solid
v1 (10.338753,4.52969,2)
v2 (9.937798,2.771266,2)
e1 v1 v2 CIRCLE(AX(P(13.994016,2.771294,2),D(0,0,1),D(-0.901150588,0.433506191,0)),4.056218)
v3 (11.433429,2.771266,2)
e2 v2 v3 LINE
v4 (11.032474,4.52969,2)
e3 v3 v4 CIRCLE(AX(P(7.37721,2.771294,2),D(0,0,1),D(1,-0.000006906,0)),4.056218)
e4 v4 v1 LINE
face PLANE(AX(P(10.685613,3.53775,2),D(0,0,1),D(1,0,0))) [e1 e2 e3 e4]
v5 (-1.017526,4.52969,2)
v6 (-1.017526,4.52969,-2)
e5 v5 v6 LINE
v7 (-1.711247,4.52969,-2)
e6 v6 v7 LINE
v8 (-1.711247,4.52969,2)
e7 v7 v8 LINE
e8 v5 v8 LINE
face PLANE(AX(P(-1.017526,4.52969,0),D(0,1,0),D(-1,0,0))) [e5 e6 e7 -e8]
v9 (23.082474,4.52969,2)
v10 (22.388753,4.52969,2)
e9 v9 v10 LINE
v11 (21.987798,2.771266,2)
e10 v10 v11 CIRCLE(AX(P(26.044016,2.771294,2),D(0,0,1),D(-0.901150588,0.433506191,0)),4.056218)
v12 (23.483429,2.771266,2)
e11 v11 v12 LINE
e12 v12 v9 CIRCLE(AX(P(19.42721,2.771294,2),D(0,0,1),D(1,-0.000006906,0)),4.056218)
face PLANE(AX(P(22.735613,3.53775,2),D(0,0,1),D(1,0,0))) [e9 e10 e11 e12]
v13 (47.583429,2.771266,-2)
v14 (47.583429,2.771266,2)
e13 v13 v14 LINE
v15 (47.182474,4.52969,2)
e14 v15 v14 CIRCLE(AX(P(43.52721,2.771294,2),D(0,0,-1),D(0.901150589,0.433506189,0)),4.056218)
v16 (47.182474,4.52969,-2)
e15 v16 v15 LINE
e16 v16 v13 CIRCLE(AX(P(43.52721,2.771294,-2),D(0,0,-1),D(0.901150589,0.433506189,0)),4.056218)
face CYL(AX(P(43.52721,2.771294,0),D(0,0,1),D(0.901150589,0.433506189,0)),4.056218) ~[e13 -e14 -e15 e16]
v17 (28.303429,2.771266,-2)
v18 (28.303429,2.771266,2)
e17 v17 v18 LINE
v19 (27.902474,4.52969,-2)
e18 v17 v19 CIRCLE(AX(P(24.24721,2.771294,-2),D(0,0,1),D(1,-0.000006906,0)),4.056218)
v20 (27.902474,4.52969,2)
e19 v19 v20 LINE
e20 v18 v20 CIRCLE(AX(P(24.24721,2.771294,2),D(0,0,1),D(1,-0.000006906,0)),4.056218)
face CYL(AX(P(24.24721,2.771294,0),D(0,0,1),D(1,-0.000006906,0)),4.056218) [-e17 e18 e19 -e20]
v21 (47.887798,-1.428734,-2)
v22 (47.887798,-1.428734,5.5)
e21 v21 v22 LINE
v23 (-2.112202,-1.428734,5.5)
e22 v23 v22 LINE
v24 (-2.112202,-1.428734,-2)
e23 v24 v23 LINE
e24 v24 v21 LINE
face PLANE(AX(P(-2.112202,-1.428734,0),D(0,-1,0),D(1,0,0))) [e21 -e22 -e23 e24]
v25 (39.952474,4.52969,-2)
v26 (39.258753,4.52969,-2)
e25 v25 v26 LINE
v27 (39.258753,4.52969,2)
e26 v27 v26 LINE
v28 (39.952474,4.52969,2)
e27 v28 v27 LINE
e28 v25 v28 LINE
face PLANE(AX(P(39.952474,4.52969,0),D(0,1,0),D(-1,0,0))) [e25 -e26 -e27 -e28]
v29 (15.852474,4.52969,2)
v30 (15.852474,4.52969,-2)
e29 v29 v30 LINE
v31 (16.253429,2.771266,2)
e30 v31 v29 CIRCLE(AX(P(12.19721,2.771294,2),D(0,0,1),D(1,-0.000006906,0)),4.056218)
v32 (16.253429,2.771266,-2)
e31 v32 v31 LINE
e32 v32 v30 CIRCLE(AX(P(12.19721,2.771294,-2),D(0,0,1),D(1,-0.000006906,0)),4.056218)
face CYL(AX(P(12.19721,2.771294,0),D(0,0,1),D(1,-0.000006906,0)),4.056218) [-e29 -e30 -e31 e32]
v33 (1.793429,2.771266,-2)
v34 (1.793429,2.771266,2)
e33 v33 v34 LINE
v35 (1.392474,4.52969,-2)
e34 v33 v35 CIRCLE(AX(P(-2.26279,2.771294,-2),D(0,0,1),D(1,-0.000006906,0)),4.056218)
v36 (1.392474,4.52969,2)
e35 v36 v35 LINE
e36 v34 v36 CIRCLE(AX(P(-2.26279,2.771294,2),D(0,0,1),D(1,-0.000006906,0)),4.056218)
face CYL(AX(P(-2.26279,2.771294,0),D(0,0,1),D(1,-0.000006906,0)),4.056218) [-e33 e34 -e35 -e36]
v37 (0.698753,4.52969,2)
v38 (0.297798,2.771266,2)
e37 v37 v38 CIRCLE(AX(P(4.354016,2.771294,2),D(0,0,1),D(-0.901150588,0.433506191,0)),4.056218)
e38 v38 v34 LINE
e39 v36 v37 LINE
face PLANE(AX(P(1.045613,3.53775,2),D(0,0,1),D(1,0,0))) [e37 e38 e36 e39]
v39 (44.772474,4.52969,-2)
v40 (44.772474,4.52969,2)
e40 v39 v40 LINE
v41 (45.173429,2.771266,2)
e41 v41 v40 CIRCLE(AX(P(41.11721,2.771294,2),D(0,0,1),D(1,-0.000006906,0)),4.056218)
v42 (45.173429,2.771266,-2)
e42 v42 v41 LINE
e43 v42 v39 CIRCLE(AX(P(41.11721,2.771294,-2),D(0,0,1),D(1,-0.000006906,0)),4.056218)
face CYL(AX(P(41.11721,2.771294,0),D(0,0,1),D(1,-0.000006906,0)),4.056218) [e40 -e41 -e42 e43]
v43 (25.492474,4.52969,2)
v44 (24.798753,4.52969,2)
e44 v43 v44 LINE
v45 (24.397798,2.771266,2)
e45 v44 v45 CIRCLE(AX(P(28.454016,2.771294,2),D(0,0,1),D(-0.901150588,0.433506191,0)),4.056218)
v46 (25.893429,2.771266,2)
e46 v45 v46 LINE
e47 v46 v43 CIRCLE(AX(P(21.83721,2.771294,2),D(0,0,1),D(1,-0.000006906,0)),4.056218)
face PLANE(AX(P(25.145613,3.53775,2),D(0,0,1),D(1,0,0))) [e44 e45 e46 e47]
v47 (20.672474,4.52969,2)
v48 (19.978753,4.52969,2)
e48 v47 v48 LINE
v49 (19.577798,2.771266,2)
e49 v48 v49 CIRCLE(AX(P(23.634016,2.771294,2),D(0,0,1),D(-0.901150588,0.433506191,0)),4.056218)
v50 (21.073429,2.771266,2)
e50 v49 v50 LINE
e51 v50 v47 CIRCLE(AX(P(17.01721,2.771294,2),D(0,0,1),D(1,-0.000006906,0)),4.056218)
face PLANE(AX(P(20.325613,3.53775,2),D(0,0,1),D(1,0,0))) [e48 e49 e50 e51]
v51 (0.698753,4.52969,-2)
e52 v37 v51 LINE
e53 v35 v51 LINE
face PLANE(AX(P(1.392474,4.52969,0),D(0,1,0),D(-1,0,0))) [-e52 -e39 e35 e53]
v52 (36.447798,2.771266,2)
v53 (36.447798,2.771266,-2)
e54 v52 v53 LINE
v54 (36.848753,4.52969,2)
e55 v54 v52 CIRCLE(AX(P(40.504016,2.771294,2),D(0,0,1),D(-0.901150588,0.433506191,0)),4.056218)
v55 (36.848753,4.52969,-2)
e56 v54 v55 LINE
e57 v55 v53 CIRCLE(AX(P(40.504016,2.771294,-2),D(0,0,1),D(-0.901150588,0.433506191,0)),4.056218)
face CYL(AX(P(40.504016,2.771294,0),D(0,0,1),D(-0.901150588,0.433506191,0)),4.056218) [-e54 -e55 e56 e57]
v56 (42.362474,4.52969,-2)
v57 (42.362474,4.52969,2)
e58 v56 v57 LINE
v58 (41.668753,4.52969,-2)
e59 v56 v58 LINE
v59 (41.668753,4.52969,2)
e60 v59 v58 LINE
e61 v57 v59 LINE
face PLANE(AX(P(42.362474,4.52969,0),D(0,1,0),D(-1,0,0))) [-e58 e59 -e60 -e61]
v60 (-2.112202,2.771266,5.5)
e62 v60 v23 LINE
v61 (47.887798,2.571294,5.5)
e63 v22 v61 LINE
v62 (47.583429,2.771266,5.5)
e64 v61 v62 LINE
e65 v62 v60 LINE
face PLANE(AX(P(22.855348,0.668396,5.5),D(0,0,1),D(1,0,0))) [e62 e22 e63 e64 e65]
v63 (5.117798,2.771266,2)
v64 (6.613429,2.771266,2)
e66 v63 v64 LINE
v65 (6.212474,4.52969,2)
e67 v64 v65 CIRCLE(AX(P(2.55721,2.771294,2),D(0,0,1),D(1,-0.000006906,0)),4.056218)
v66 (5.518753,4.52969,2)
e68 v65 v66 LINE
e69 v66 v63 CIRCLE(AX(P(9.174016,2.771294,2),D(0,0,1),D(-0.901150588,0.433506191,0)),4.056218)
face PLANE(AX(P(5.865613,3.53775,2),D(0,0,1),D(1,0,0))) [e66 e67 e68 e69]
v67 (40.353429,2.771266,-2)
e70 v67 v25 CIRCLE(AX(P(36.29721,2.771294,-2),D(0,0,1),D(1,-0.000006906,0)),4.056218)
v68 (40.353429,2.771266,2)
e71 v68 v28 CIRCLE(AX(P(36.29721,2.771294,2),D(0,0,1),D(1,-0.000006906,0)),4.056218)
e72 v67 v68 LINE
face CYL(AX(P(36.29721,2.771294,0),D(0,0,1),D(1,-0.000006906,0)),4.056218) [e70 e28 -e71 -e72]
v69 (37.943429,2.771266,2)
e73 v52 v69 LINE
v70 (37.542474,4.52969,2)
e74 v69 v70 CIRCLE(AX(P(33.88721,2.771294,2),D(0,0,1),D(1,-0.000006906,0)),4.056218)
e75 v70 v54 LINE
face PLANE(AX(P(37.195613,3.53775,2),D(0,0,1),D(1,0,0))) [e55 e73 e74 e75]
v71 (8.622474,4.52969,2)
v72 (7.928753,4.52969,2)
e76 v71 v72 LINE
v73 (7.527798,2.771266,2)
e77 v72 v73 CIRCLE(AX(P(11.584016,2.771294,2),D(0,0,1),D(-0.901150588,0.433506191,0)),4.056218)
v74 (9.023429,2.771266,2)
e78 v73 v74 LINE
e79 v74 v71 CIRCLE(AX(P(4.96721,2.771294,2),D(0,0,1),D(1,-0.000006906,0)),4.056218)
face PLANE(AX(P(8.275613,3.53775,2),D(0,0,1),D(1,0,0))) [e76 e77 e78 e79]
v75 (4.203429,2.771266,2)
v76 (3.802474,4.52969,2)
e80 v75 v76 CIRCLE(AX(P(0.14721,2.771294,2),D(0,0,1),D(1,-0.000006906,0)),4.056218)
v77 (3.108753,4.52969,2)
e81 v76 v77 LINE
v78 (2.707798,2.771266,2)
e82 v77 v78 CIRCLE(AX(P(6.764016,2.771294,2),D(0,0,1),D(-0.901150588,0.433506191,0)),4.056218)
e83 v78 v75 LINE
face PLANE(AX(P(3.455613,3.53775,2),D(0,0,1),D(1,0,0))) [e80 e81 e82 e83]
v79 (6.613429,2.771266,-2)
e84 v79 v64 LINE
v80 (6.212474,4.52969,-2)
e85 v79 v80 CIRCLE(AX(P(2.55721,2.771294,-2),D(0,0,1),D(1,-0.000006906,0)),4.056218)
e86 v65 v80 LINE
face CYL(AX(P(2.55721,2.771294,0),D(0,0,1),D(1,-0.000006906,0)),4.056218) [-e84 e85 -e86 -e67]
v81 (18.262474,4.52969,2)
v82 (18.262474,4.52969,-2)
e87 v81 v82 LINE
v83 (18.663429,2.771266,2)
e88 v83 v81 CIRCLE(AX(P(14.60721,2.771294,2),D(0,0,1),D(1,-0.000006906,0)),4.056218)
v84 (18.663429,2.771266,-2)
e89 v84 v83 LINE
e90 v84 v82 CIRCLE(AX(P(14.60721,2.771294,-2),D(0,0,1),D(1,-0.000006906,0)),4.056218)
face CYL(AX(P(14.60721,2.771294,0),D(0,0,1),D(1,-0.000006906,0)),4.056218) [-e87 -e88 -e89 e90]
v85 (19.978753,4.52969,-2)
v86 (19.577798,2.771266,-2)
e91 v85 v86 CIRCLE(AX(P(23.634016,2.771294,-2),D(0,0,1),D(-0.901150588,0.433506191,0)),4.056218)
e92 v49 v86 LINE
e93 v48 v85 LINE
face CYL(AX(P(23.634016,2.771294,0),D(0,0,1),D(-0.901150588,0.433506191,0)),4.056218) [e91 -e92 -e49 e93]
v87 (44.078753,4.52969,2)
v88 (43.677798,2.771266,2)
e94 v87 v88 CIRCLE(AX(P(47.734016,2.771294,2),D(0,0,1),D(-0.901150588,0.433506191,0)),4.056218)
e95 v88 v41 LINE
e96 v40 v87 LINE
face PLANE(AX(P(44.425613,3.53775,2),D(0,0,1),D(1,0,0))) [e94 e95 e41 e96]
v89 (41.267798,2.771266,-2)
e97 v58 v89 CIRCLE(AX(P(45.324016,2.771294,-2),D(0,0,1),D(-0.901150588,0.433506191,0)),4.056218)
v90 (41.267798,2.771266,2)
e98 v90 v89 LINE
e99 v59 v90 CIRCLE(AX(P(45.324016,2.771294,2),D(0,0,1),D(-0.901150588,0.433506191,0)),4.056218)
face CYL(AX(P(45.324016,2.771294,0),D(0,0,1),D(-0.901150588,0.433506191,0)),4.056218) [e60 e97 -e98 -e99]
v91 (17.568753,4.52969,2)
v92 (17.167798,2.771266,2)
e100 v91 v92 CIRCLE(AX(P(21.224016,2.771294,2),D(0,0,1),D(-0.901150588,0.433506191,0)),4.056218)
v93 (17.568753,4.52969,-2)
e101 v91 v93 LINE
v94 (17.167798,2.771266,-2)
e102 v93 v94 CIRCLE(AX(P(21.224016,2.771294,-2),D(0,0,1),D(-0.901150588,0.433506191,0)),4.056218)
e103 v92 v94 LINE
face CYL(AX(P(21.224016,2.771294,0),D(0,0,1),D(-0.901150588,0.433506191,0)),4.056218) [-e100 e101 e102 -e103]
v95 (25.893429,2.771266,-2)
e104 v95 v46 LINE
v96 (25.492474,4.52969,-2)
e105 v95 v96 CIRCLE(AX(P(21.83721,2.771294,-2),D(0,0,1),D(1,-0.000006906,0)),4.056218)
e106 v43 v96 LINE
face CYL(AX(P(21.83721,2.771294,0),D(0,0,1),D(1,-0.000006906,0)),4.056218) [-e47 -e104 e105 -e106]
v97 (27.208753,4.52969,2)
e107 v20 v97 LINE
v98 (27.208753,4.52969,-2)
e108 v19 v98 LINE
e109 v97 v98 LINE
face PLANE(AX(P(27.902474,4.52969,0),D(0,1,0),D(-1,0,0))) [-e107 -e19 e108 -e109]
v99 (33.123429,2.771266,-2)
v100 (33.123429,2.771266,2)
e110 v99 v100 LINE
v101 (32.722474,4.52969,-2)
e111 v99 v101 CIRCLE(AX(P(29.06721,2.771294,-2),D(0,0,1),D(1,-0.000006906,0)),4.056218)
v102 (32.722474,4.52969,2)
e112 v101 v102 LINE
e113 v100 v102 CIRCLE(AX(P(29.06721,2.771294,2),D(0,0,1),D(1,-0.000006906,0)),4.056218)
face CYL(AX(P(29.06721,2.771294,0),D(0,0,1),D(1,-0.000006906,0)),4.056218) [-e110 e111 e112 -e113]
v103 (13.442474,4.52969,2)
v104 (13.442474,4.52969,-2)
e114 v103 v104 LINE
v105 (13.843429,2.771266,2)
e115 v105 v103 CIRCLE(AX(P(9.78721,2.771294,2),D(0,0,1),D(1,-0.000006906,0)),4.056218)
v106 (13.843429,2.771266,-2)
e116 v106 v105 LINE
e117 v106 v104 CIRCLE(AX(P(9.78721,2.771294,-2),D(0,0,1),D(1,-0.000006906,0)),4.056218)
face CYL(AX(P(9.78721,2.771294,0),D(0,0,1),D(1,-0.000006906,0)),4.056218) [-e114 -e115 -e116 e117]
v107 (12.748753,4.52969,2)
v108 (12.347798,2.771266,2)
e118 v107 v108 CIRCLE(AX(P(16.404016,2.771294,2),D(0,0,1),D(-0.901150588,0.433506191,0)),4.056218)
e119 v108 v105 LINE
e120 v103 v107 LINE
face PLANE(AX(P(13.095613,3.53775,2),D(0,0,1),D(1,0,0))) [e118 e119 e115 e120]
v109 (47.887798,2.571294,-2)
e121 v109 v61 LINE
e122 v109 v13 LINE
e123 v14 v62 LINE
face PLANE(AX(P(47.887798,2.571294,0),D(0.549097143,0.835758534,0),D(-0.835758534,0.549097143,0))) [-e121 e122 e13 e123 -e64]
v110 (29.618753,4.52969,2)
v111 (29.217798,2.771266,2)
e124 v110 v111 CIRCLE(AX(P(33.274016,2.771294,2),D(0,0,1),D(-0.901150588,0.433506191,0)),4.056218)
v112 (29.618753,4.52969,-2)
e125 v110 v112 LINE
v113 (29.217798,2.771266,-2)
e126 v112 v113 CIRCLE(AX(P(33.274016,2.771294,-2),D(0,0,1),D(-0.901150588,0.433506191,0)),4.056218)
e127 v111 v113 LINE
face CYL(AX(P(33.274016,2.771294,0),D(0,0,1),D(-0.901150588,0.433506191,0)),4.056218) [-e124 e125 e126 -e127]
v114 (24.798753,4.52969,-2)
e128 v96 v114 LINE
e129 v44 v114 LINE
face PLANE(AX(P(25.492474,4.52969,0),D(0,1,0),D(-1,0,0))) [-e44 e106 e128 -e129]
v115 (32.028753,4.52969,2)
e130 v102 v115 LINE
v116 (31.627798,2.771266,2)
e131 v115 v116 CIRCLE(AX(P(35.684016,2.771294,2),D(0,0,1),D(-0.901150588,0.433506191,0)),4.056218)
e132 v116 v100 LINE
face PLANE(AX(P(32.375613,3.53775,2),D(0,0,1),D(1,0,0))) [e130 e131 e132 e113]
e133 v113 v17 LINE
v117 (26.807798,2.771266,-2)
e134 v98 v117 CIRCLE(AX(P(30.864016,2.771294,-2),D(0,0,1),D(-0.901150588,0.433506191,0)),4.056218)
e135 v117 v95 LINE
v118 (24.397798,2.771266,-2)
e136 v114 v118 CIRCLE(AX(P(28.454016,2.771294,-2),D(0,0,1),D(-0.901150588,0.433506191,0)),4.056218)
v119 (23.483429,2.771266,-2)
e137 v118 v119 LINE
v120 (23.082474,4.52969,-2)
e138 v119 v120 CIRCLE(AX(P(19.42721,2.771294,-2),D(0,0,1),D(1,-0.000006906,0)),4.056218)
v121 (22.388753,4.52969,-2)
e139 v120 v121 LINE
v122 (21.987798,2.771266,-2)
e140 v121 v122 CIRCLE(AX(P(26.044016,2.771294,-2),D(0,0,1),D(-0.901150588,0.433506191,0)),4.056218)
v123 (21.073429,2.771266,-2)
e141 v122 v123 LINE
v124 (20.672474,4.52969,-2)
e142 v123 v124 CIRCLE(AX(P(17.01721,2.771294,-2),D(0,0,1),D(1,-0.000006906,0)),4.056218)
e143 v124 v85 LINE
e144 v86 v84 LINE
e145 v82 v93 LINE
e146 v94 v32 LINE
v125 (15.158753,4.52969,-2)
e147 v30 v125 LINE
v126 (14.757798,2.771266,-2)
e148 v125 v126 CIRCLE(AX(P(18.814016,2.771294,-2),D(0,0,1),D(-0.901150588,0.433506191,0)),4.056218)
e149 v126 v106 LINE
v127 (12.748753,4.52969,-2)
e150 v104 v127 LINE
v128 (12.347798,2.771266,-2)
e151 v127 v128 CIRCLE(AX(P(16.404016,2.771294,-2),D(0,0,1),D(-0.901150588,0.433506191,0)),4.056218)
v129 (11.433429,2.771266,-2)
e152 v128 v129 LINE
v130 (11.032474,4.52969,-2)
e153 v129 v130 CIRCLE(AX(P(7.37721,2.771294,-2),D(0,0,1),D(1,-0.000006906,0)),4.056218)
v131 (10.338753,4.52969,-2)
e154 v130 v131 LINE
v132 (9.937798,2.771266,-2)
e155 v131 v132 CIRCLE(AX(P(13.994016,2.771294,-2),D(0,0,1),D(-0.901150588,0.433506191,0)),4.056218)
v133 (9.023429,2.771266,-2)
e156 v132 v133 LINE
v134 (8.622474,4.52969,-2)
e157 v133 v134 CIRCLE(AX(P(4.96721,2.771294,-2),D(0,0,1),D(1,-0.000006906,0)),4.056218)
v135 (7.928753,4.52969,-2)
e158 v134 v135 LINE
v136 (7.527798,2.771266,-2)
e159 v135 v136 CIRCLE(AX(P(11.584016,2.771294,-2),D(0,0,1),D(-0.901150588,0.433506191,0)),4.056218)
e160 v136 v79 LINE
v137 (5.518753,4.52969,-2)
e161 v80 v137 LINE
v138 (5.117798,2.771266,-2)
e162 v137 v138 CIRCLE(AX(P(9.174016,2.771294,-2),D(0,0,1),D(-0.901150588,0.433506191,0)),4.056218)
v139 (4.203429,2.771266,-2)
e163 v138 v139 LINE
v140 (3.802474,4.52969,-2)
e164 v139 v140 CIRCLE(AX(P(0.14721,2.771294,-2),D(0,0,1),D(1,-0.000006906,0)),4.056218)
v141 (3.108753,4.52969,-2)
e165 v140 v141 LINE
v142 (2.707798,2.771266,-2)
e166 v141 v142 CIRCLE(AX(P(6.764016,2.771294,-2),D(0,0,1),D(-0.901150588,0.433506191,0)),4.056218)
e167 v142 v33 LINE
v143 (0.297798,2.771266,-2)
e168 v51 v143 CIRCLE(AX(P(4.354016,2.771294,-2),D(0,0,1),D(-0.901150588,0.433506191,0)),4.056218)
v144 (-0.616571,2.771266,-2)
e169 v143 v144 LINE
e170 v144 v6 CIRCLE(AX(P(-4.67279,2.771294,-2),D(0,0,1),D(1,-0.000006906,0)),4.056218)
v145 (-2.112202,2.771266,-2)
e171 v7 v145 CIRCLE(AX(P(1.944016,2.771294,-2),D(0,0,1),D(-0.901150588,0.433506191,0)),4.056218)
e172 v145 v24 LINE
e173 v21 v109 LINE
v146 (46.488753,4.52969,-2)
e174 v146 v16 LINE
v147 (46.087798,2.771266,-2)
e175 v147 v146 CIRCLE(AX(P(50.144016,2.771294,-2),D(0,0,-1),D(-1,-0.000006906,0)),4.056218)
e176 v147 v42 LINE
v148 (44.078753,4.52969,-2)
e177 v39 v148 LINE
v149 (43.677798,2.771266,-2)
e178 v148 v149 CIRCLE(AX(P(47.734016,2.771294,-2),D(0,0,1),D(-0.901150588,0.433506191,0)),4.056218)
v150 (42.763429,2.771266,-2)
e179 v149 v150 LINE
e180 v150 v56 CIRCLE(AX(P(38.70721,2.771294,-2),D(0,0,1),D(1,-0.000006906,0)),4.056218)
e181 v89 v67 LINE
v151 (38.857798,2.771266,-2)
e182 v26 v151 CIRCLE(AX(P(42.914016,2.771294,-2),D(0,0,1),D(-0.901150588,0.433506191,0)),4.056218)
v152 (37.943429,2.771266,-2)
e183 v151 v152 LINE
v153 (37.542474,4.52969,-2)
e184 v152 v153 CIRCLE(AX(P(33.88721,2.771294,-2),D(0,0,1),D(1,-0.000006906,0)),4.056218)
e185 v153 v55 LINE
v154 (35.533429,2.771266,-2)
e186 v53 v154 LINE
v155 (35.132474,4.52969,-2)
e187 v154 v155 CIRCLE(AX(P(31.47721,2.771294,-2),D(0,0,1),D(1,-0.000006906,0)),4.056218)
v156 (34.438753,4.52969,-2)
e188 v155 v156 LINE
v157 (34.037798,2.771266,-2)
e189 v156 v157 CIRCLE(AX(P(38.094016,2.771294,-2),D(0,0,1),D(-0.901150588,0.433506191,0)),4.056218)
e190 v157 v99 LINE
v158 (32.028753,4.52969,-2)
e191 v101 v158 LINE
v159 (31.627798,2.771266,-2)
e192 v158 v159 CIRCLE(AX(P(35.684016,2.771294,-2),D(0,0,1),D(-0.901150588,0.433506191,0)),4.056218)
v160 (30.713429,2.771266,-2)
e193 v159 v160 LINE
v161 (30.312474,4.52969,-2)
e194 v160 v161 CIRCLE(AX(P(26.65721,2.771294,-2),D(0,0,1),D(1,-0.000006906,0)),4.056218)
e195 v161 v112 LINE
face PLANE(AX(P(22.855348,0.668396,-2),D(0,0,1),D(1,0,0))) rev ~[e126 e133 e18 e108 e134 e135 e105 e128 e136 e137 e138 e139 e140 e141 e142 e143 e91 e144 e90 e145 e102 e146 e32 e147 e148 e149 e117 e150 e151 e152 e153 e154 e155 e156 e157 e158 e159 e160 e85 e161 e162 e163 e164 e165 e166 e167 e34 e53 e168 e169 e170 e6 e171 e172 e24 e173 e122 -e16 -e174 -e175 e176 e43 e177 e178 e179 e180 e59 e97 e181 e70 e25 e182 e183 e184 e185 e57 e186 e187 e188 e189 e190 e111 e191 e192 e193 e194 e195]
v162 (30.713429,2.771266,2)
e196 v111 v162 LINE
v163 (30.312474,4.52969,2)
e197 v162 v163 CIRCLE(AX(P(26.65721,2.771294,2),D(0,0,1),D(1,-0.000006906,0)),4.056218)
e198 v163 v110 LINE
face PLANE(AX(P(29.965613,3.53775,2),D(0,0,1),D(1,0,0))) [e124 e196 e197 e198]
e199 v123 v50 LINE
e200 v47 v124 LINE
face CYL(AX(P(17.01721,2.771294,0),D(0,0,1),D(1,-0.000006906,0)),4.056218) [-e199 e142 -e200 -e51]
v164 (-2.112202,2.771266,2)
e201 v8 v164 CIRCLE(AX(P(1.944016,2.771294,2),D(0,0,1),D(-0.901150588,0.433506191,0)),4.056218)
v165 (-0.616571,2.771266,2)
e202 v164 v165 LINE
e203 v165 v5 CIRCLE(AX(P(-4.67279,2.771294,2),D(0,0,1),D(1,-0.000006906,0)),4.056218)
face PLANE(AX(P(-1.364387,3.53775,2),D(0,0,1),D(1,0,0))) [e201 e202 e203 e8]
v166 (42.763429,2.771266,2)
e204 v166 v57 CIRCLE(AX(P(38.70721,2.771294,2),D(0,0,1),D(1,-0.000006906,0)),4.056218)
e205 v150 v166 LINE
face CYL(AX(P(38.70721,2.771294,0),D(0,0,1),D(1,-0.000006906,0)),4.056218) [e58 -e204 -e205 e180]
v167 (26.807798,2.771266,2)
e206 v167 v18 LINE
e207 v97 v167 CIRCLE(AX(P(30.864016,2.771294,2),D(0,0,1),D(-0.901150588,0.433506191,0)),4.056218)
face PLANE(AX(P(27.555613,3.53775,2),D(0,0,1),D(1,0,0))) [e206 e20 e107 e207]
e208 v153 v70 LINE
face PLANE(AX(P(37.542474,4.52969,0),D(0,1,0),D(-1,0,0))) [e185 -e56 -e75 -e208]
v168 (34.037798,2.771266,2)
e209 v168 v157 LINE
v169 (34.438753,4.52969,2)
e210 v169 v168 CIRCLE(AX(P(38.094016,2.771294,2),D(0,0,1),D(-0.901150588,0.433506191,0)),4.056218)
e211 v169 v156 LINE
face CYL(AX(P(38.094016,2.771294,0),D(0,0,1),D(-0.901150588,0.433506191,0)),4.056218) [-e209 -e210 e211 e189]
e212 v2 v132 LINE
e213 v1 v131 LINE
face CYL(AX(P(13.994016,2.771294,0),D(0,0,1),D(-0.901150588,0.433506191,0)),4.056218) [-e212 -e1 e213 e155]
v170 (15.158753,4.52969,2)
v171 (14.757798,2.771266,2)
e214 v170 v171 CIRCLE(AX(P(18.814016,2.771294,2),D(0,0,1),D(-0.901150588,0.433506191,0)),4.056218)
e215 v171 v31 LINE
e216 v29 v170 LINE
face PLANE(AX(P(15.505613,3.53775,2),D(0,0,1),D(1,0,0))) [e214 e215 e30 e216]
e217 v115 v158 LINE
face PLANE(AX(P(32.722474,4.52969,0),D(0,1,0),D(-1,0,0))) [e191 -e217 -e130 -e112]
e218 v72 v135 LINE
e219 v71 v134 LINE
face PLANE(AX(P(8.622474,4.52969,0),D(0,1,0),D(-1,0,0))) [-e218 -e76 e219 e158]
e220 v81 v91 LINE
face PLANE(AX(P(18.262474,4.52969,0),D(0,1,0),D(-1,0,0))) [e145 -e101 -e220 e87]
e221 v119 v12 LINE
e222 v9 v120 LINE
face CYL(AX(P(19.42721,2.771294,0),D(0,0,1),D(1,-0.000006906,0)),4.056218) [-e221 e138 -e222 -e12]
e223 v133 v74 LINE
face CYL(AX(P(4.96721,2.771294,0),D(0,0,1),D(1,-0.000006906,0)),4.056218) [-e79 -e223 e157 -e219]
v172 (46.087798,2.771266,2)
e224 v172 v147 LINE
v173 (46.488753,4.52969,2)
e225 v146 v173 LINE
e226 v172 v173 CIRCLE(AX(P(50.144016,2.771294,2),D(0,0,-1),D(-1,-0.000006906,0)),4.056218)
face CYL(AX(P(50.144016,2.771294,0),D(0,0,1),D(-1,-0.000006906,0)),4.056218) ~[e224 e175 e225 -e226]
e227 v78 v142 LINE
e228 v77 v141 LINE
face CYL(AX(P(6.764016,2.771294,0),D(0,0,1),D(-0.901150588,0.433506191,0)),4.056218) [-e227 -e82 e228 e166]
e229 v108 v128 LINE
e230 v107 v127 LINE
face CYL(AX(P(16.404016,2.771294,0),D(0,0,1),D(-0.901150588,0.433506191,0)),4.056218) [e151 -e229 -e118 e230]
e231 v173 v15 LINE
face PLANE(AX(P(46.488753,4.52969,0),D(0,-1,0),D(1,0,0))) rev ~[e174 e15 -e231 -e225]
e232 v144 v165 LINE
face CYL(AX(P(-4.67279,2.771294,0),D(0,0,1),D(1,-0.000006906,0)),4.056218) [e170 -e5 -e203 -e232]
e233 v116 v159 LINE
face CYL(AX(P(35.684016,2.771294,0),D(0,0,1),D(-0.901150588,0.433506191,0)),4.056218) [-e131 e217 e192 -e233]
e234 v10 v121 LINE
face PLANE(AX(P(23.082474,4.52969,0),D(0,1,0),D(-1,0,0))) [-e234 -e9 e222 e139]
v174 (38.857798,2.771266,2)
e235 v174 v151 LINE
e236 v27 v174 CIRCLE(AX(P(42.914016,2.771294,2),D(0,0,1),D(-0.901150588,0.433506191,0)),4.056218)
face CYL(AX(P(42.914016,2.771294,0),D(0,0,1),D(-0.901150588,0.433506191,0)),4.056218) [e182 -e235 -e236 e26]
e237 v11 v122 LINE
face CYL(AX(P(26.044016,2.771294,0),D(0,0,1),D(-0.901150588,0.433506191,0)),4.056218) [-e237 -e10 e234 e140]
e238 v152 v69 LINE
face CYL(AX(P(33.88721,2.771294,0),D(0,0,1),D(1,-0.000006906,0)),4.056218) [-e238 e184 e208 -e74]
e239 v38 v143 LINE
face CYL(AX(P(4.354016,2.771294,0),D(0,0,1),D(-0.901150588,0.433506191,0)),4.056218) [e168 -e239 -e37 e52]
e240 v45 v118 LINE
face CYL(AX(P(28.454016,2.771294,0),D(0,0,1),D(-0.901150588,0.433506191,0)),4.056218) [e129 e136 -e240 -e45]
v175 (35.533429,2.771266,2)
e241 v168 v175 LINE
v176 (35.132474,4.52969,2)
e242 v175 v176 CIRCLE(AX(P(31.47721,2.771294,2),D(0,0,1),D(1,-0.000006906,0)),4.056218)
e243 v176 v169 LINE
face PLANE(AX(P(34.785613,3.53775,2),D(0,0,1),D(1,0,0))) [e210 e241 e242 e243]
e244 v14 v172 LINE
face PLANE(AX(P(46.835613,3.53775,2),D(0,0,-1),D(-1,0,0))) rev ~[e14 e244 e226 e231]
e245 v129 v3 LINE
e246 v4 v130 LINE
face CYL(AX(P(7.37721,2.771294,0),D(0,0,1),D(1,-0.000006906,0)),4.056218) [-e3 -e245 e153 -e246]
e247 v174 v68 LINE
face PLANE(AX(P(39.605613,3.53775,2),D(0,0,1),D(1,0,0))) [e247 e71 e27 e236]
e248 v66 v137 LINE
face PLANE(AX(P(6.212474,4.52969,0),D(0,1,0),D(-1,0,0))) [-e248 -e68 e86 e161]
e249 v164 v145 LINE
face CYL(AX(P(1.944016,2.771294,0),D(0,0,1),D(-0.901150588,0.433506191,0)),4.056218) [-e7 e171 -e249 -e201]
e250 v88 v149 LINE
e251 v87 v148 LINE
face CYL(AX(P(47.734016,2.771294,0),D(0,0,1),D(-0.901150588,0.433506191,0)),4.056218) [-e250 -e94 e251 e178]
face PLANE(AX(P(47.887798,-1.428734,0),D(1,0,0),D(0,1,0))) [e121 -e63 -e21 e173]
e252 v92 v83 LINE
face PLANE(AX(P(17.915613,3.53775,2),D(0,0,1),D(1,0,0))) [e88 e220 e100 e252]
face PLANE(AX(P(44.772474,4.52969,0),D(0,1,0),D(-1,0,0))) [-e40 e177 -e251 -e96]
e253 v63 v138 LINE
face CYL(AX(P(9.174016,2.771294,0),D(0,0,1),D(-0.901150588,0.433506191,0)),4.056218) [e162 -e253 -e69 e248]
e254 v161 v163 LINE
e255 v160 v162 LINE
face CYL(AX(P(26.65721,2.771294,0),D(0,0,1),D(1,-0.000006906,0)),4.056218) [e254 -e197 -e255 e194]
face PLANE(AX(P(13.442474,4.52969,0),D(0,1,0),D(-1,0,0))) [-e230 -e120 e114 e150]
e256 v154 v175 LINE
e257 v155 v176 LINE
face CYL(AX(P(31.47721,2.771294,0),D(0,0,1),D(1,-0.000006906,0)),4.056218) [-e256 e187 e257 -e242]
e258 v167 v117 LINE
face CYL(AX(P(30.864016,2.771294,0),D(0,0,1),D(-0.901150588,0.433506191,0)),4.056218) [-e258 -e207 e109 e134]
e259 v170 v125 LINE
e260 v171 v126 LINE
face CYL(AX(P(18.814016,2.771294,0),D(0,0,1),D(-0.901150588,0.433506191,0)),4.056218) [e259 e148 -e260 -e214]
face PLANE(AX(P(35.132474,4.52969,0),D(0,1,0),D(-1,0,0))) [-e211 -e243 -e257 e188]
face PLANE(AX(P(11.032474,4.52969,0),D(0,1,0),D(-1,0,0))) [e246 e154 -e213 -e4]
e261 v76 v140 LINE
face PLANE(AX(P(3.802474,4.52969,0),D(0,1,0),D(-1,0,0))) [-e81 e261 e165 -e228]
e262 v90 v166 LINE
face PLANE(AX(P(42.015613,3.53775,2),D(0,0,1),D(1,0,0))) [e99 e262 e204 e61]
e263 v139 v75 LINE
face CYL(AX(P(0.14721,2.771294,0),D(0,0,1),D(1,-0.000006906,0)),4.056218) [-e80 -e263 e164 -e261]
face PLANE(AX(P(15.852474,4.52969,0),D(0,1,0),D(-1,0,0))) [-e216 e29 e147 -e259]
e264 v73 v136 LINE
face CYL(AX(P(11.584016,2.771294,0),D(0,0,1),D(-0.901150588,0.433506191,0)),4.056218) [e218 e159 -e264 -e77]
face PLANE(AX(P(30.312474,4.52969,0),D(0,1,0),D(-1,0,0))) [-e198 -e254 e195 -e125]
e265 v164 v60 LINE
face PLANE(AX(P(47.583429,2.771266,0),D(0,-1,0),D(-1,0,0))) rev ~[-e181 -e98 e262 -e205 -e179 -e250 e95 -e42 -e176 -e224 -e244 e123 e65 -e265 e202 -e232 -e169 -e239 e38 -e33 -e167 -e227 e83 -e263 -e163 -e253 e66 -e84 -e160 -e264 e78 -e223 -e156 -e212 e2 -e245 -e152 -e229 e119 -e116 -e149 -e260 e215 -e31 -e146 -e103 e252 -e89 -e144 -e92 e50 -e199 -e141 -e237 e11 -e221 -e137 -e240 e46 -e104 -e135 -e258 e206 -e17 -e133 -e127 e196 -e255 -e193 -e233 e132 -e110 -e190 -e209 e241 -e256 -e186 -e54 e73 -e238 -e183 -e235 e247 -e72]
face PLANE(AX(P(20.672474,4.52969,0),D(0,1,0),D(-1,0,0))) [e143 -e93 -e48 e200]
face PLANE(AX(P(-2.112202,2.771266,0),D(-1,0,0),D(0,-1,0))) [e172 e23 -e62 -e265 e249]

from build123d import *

# Parameters (mm, degrees)
RESSALTO_EXTRUS_O1_DEPTH      = 2
RESSALTO_EXTRUS_O1_2_DEPTH    = 2
RESSALTO_EXTRUS_O1_3_DEPTH    = 2
RESSALTO_EXTRUS_O1_4_DEPTH    = 2
RESSALTO_EXTRUS_O1_5_DEPTH    = 2
RESSALTO_EXTRUS_O1_6_DEPTH    = 2
RESSALTO_EXTRUS_O1_7_DEPTH    = 2
RESSALTO_EXTRUS_O1_8_DEPTH    = 2
RESSALTO_EXTRUS_O1_9_DEPTH    = 2
RESSALTO_EXTRUS_O1_10_DEPTH   = 2
RESSALTO_EXTRUS_O1_11_DEPTH   = 2
RESSALTO_EXTRUS_O1_12_DEPTH   = 2
RESSALTO_EXTRUS_O1_13_DEPTH   = 2
RESSALTO_EXTRUS_O1_14_DEPTH   = 2
RESSALTO_EXTRUS_O1_15_DEPTH   = 2
RESSALTO_EXTRUS_O1_16_DEPTH   = 2
RESSALTO_EXTRUS_O1_17_DEPTH   = 2
RESSALTO_EXTRUS_O1_18_DEPTH   = 2
RESSALTO_EXTRUS_O1_19_DEPTH   = 2
RESSALTO_EXTRUS_O1_20_DEPTH   = 2
RESSALTO_EXTRUS_O1_21_DEPTH   = 2
RESSALTO_EXTRUS_O2_DEPTH      = 5.5
RESSALTO_EXTRUS_O2_DEPTH_BACK = 2


with BuildPart() as part:
    # Esboço1 → Ressalto-extrusão1 (new, symmetric)
    with BuildSketch(Plane.XY):
        with BuildLine():
            Line((-1.017526261, 4.529689969), (-1.711247382, 4.529689969))
            ThreePointArc((-1.711247382, 4.529689969), (-2.010696446, 3.673045524), (-2.112202188, 2.771266155))
            Line((-2.112202188, 2.771266155), (-0.616571456, 2.771266155))
            ThreePointArc((-0.616571456, 2.771266155), (-0.718077198, 3.673045524), (-1.017526261, 4.529689969))
        make_face()
    extrude(amount=RESSALTO_EXTRUS_O1_DEPTH, both=True)



with BuildPart() as body_2:
    # Esboço1 → Ressalto-extrus_o1 2 (new, symmetric)
    with BuildSketch(Plane.XY):
        with BuildLine():
            ThreePointArc((0.698752618, 4.529689969), (0.399303554, 3.673045524), (0.297797812, 2.771266155))
            Line((0.297797812, 2.771266155), (1.793428544, 2.771266155))
            ThreePointArc((1.793428544, 2.771266155), (1.691922802, 3.673045524), (1.392473739, 4.529689969))
            Line((1.392473739, 4.529689969), (0.698752618, 4.529689969))
        make_face()
    extrude(amount=RESSALTO_EXTRUS_O1_2_DEPTH, both=True)


with BuildPart() as body_3:
    # Esboço1 → Ressalto-extrus_o1 3 (new, symmetric)
    with BuildSketch(Plane.XY):
        with BuildLine():
            ThreePointArc((3.108752618, 4.529689969), (2.809303554, 3.673045524), (2.707797812, 2.771266155))
            Line((2.707797812, 2.771266155), (4.203428544, 2.771266155))
            ThreePointArc((4.203428544, 2.771266155), (4.101922802, 3.673045524), (3.802473739, 4.529689969))
            Line((3.802473739, 4.529689969), (3.108752618, 4.529689969))
        make_face()
    extrude(amount=RESSALTO_EXTRUS_O1_3_DEPTH, both=True)


with BuildPart() as body_4:
    # Esboço1 → Ressalto-extrus_o1 4 (new, symmetric)
    with BuildSketch(Plane.XY):
        with BuildLine():
            Line((46.087797812, 2.771266155), (47.583428544, 2.771266155))
            ThreePointArc((47.583428544, 2.771266155), (47.481922802, 3.673045524), (47.182473739, 4.529689969))
            Line((47.182473739, 4.529689969), (46.488752618, 4.529689969))
            ThreePointArc((46.488752618, 4.529689969), (46.189303554, 3.673045524), (46.087797812, 2.771266155))
        make_face()
    extrude(amount=RESSALTO_EXTRUS_O1_4_DEPTH, both=True)


with BuildPart() as body_5:
    # Esboço1 → Ressalto-extrus_o1 5 (new, symmetric)
    with BuildSketch(Plane.XY):
        with BuildLine():
            ThreePointArc((5.518752618, 4.529689969), (5.219303554, 3.673045524), (5.117797812, 2.771266155))
            Line((5.117797812, 2.771266155), (6.613428544, 2.771266155))
            ThreePointArc((6.613428544, 2.771266155), (6.511922802, 3.673045524), (6.212473739, 4.529689969))
            Line((6.212473739, 4.529689969), (5.518752618, 4.529689969))
        make_face()
    extrude(amount=RESSALTO_EXTRUS_O1_5_DEPTH, both=True)


with BuildPart() as body_6:
    # Esboço1 → Ressalto-extrus_o1 6 (new, symmetric)
    with BuildSketch(Plane.XY):
        with BuildLine():
            Line((43.677797812, 2.771266155), (45.173428544, 2.771266155))
            ThreePointArc((45.173428544, 2.771266155), (45.071922802, 3.673045524), (44.772473739, 4.529689969))
            Line((44.772473739, 4.529689969), (44.078752618, 4.529689969))
            ThreePointArc((44.078752618, 4.529689969), (43.779303554, 3.673045524), (43.677797812, 2.771266155))
        make_face()
    extrude(amount=RESSALTO_EXTRUS_O1_6_DEPTH, both=True)


with BuildPart() as body_7:
    # Esboço1 → Ressalto-extrus_o1 7 (new, symmetric)
    with BuildSketch(Plane.XY):
        with BuildLine():
            ThreePointArc((7.928752618, 4.529689969), (7.629303554, 3.673045524), (7.527797812, 2.771266155))
            Line((7.527797812, 2.771266155), (9.023428544, 2.771266155))
            ThreePointArc((9.023428544, 2.771266155), (8.921922802, 3.673045524), (8.622473739, 4.529689969))
            Line((8.622473739, 4.529689969), (7.928752618, 4.529689969))
        make_face()
    extrude(amount=RESSALTO_EXTRUS_O1_7_DEPTH, both=True)


with BuildPart() as body_8:
    # Esboço1 → Ressalto-extrus_o1 8 (new, symmetric)
    with BuildSketch(Plane.XY):
        with BuildLine():
            Line((41.267797812, 2.771266155), (42.763428544, 2.771266155))
            ThreePointArc((42.763428544, 2.771266155), (42.661922802, 3.673045524), (42.362473739, 4.529689969))
            Line((42.362473739, 4.529689969), (41.668752618, 4.529689969))
            ThreePointArc((41.668752618, 4.529689969), (41.369303554, 3.673045524), (41.267797812, 2.771266155))
        make_face()
    extrude(amount=RESSALTO_EXTRUS_O1_8_DEPTH, both=True)


with BuildPart() as body_9:
    # Esboço1 → Ressalto-extrus_o1 9 (new, symmetric)
    with BuildSketch(Plane.XY):
        with BuildLine():
            ThreePointArc((10.338752618, 4.529689969), (10.039303554, 3.673045524), (9.937797812, 2.771266155))
            Line((9.937797812, 2.771266155), (11.433428544, 2.771266155))
            ThreePointArc((11.433428544, 2.771266155), (11.331922802, 3.673045524), (11.032473739, 4.529689969))
            Line((11.032473739, 4.529689969), (10.338752618, 4.529689969))
        make_face()
    extrude(amount=RESSALTO_EXTRUS_O1_9_DEPTH, both=True)


with BuildPart() as body_10:
    # Esboço1 → Ressalto-extrus_o1 10 (new, symmetric)
    with BuildSketch(Plane.XY):
        with BuildLine():
            Line((38.857797812, 2.771266155), (40.353428544, 2.771266155))
            ThreePointArc((40.353428544, 2.771266155), (40.251922802, 3.673045524), (39.952473739, 4.529689969))
            Line((39.952473739, 4.529689969), (39.258752618, 4.529689969))
            ThreePointArc((39.258752618, 4.529689969), (38.959303554, 3.673045524), (38.857797812, 2.771266155))
        make_face()
    extrude(amount=RESSALTO_EXTRUS_O1_10_DEPTH, both=True)


with BuildPart() as body_11:
    # Esboço1 → Ressalto-extrus_o1 11 (new, symmetric)
    with BuildSketch(Plane.XY):
        with BuildLine():
            ThreePointArc((12.748752618, 4.529689969), (12.449303554, 3.673045524), (12.347797812, 2.771266155))
            Line((12.347797812, 2.771266155), (13.843428544, 2.771266155))
            ThreePointArc((13.843428544, 2.771266155), (13.741922802, 3.673045524), (13.442473739, 4.529689969))
            Line((13.442473739, 4.529689969), (12.748752618, 4.529689969))
        make_face()
    extrude(amount=RESSALTO_EXTRUS_O1_11_DEPTH, both=True)


with BuildPart() as body_12:
    # Esboço1 → Ressalto-extrus_o1 12 (new, symmetric)
    with BuildSketch(Plane.XY):
        with BuildLine():
            Line((36.447797812, 2.771266155), (37.943428544, 2.771266155))
            ThreePointArc((37.943428544, 2.771266155), (37.841922802, 3.673045524), (37.542473739, 4.529689969))
            Line((37.542473739, 4.529689969), (36.848752618, 4.529689969))
            ThreePointArc((36.848752618, 4.529689969), (36.549303554, 3.673045524), (36.447797812, 2.771266155))
        make_face()
    extrude(amount=RESSALTO_EXTRUS_O1_12_DEPTH, both=True)


with BuildPart() as body_13:
    # Esboço1 → Ressalto-extrus_o1 13 (new, symmetric)
    with BuildSketch(Plane.XY):
        with BuildLine():
            ThreePointArc((15.158752618, 4.529689969), (14.859303554, 3.673045524), (14.757797812, 2.771266155))
            Line((14.757797812, 2.771266155), (16.253428544, 2.771266155))
            ThreePointArc((16.253428544, 2.771266155), (16.151922802, 3.673045524), (15.852473739, 4.529689969))
            Line((15.852473739, 4.529689969), (15.158752618, 4.529689969))
        make_face()
    extrude(amount=RESSALTO_EXTRUS_O1_13_DEPTH, both=True)


with BuildPart() as body_14:
    # Esboço1 → Ressalto-extrus_o1 14 (new, symmetric)
    with BuildSketch(Plane.XY):
        with BuildLine():
            Line((34.037797812, 2.771266155), (35.533428544, 2.771266155))
            ThreePointArc((35.533428544, 2.771266155), (35.431922802, 3.673045524), (35.132473739, 4.529689969))
            Line((35.132473739, 4.529689969), (34.438752618, 4.529689969))
            ThreePointArc((34.438752618, 4.529689969), (34.139303554, 3.673045524), (34.037797812, 2.771266155))
        make_face()
    extrude(amount=RESSALTO_EXTRUS_O1_14_DEPTH, both=True)


with BuildPart() as body_15:
    # Esboço1 → Ressalto-extrus_o1 15 (new, symmetric)
    with BuildSketch(Plane.XY):
        with BuildLine():
            ThreePointArc((17.568752618, 4.529689969), (17.269303554, 3.673045524), (17.167797812, 2.771266155))
            Line((17.167797812, 2.771266155), (18.663428544, 2.771266155))
            ThreePointArc((18.663428544, 2.771266155), (18.561922802, 3.673045524), (18.262473739, 4.529689969))
            Line((18.262473739, 4.529689969), (17.568752618, 4.529689969))
        make_face()
    extrude(amount=RESSALTO_EXTRUS_O1_15_DEPTH, both=True)


with BuildPart() as body_16:
    # Esboço1 → Ressalto-extrus_o1 16 (new, symmetric)
    with BuildSketch(Plane.XY):
        with BuildLine():
            Line((31.627797812, 2.771266155), (33.123428544, 2.771266155))
            ThreePointArc((33.123428544, 2.771266155), (33.021922802, 3.673045524), (32.722473739, 4.529689969))
            Line((32.722473739, 4.529689969), (32.028752618, 4.529689969))
            ThreePointArc((32.028752618, 4.529689969), (31.729303554, 3.673045524), (31.627797812, 2.771266155))
        make_face()
    extrude(amount=RESSALTO_EXTRUS_O1_16_DEPTH, both=True)


with BuildPart() as body_17:
    # Esboço1 → Ressalto-extrus_o1 17 (new, symmetric)
    with BuildSketch(Plane.XY):
        with BuildLine():
            ThreePointArc((19.978752618, 4.529689969), (19.679303554, 3.673045524), (19.577797812, 2.771266155))
            Line((19.577797812, 2.771266155), (21.073428544, 2.771266155))
            ThreePointArc((21.073428544, 2.771266155), (20.971922802, 3.673045524), (20.672473739, 4.529689969))
            Line((20.672473739, 4.529689969), (19.978752618, 4.529689969))
        make_face()
    extrude(amount=RESSALTO_EXTRUS_O1_17_DEPTH, both=True)


with BuildPart() as body_18:
    # Esboço1 → Ressalto-extrus_o1 18 (new, symmetric)
    with BuildSketch(Plane.XY):
        with BuildLine():
            Line((29.217797812, 2.771266155), (30.713428544, 2.771266155))
            ThreePointArc((30.713428544, 2.771266155), (30.611922802, 3.673045524), (30.312473739, 4.529689969))
            Line((30.312473739, 4.529689969), (29.618752618, 4.529689969))
            ThreePointArc((29.618752618, 4.529689969), (29.319303554, 3.673045524), (29.217797812, 2.771266155))
        make_face()
    extrude(amount=RESSALTO_EXTRUS_O1_18_DEPTH, both=True)


with BuildPart() as body_19:
    # Esboço1 → Ressalto-extrus_o1 19 (new, symmetric)
    with BuildSketch(Plane.XY):
        with BuildLine():
            ThreePointArc((22.388752618, 4.529689969), (22.089303554, 3.673045524), (21.987797812, 2.771266155))
            Line((21.987797812, 2.771266155), (23.483428544, 2.771266155))
            ThreePointArc((23.483428544, 2.771266155), (23.381922802, 3.673045524), (23.082473739, 4.529689969))
            Line((23.082473739, 4.529689969), (22.388752618, 4.529689969))
        make_face()
    extrude(amount=RESSALTO_EXTRUS_O1_19_DEPTH, both=True)


with BuildPart() as body_20:
    # Esboço1 → Ressalto-extrus_o1 20 (new, symmetric)
    with BuildSketch(Plane.XY):
        with BuildLine():
            Line((26.807797812, 2.771266155), (28.303428544, 2.771266155))
            ThreePointArc((28.303428544, 2.771266155), (28.201922802, 3.673045524), (27.902473739, 4.529689969))
            Line((27.902473739, 4.529689969), (27.208752618, 4.529689969))
            ThreePointArc((27.208752618, 4.529689969), (26.909303554, 3.673045524), (26.807797812, 2.771266155))
        make_face()
    extrude(amount=RESSALTO_EXTRUS_O1_20_DEPTH, both=True)


with BuildPart() as body_21:
    # Esboço1 → Ressalto-extrus_o1 21 (new, symmetric)
    with BuildSketch(Plane.XY):
        with BuildLine():
            ThreePointArc((24.798752618, 4.529689969), (24.499303554, 3.673045524), (24.397797812, 2.771266155))
            Line((24.397797812, 2.771266155), (25.893428544, 2.771266155))
            ThreePointArc((25.893428544, 2.771266155), (25.791922802, 3.673045524), (25.492473739, 4.529689969))
            Line((25.492473739, 4.529689969), (24.798752618, 4.529689969))
        make_face()
    extrude(amount=RESSALTO_EXTRUS_O1_21_DEPTH, both=True)


with BuildPart() as part_1:
    add(part.part)

    add(body_2.part)  # Ressalto-extrusão2 merges body 2

    add(body_3.part)  # Ressalto-extrusão2 merges body 3

    add(body_4.part)  # Ressalto-extrusão2 merges body 4

    add(body_5.part)  # Ressalto-extrusão2 merges body 5

    add(body_6.part)  # Ressalto-extrusão2 merges body 6

    add(body_7.part)  # Ressalto-extrusão2 merges body 7

    add(body_8.part)  # Ressalto-extrusão2 merges body 8

    add(body_9.part)  # Ressalto-extrusão2 merges body 9

    add(body_10.part)  # Ressalto-extrusão2 merges body 10

    add(body_11.part)  # Ressalto-extrusão2 merges body 11

    add(body_12.part)  # Ressalto-extrusão2 merges body 12

    add(body_13.part)  # Ressalto-extrusão2 merges body 13

    add(body_14.part)  # Ressalto-extrusão2 merges body 14

    add(body_15.part)  # Ressalto-extrusão2 merges body 15

    add(body_16.part)  # Ressalto-extrusão2 merges body 16

    add(body_17.part)  # Ressalto-extrusão2 merges body 17

    add(body_18.part)  # Ressalto-extrusão2 merges body 18

    add(body_19.part)  # Ressalto-extrusão2 merges body 19

    add(body_20.part)  # Ressalto-extrusão2 merges body 20

    add(body_21.part)  # Ressalto-extrusão2 merges body 21
    # Esboço1<7> → Ressalto-extrusão2 (add, two sides: drawn at the far end of the back side and taken through both)
    with BuildSketch(Plane.XY.offset(-RESSALTO_EXTRUS_O2_DEPTH_BACK)):
        Polygon((-0.616571456, 2.771266155), (-2.112202188, 2.771266155), (-2.112202188, -1.428733845), (47.887797812, -1.428733845), (47.887797812, 2.571294167), (47.583428544, 2.771266155), (46.087797812, 2.771266155), (45.173428544, 2.771266155), (43.677797812, 2.771266155), (42.763428544, 2.771266155), (41.267797812, 2.771266155), (40.353428544, 2.771266155), (38.857797812, 2.771266155), (37.943428544, 2.771266155), (36.447797812, 2.771266155), (35.533428544, 2.771266155), (34.037797812, 2.771266155), (33.123428544, 2.771266155), (31.627797812, 2.771266155), (30.713428544, 2.771266155), (29.217797812, 2.771266155), (28.303428544, 2.771266155), (26.807797812, 2.771266155), (25.893428544, 2.771266155), (24.397797812, 2.771266155), (23.483428544, 2.771266155), (21.987797812, 2.771266155), (21.073428544, 2.771266155), (19.577797812, 2.771266155), (18.663428544, 2.771266155), (17.167797812, 2.771266155), (16.253428544, 2.771266155), (14.757797812, 2.771266155), (13.843428544, 2.771266155), (12.347797812, 2.771266155), (11.433428544, 2.771266155), (9.937797812, 2.771266155), (9.023428544, 2.771266155), (7.527797812, 2.771266155), (6.613428544, 2.771266155), (5.117797812, 2.771266155), (4.203428544, 2.771266155), (2.707797812, 2.771266155), (1.793428544, 2.771266155), (0.297797812, 2.771266155), align=None)
    extrude(amount=RESSALTO_EXTRUS_O2_DEPTH + RESSALTO_EXTRUS_O2_DEPTH_BACK)


solid = part_1.part
